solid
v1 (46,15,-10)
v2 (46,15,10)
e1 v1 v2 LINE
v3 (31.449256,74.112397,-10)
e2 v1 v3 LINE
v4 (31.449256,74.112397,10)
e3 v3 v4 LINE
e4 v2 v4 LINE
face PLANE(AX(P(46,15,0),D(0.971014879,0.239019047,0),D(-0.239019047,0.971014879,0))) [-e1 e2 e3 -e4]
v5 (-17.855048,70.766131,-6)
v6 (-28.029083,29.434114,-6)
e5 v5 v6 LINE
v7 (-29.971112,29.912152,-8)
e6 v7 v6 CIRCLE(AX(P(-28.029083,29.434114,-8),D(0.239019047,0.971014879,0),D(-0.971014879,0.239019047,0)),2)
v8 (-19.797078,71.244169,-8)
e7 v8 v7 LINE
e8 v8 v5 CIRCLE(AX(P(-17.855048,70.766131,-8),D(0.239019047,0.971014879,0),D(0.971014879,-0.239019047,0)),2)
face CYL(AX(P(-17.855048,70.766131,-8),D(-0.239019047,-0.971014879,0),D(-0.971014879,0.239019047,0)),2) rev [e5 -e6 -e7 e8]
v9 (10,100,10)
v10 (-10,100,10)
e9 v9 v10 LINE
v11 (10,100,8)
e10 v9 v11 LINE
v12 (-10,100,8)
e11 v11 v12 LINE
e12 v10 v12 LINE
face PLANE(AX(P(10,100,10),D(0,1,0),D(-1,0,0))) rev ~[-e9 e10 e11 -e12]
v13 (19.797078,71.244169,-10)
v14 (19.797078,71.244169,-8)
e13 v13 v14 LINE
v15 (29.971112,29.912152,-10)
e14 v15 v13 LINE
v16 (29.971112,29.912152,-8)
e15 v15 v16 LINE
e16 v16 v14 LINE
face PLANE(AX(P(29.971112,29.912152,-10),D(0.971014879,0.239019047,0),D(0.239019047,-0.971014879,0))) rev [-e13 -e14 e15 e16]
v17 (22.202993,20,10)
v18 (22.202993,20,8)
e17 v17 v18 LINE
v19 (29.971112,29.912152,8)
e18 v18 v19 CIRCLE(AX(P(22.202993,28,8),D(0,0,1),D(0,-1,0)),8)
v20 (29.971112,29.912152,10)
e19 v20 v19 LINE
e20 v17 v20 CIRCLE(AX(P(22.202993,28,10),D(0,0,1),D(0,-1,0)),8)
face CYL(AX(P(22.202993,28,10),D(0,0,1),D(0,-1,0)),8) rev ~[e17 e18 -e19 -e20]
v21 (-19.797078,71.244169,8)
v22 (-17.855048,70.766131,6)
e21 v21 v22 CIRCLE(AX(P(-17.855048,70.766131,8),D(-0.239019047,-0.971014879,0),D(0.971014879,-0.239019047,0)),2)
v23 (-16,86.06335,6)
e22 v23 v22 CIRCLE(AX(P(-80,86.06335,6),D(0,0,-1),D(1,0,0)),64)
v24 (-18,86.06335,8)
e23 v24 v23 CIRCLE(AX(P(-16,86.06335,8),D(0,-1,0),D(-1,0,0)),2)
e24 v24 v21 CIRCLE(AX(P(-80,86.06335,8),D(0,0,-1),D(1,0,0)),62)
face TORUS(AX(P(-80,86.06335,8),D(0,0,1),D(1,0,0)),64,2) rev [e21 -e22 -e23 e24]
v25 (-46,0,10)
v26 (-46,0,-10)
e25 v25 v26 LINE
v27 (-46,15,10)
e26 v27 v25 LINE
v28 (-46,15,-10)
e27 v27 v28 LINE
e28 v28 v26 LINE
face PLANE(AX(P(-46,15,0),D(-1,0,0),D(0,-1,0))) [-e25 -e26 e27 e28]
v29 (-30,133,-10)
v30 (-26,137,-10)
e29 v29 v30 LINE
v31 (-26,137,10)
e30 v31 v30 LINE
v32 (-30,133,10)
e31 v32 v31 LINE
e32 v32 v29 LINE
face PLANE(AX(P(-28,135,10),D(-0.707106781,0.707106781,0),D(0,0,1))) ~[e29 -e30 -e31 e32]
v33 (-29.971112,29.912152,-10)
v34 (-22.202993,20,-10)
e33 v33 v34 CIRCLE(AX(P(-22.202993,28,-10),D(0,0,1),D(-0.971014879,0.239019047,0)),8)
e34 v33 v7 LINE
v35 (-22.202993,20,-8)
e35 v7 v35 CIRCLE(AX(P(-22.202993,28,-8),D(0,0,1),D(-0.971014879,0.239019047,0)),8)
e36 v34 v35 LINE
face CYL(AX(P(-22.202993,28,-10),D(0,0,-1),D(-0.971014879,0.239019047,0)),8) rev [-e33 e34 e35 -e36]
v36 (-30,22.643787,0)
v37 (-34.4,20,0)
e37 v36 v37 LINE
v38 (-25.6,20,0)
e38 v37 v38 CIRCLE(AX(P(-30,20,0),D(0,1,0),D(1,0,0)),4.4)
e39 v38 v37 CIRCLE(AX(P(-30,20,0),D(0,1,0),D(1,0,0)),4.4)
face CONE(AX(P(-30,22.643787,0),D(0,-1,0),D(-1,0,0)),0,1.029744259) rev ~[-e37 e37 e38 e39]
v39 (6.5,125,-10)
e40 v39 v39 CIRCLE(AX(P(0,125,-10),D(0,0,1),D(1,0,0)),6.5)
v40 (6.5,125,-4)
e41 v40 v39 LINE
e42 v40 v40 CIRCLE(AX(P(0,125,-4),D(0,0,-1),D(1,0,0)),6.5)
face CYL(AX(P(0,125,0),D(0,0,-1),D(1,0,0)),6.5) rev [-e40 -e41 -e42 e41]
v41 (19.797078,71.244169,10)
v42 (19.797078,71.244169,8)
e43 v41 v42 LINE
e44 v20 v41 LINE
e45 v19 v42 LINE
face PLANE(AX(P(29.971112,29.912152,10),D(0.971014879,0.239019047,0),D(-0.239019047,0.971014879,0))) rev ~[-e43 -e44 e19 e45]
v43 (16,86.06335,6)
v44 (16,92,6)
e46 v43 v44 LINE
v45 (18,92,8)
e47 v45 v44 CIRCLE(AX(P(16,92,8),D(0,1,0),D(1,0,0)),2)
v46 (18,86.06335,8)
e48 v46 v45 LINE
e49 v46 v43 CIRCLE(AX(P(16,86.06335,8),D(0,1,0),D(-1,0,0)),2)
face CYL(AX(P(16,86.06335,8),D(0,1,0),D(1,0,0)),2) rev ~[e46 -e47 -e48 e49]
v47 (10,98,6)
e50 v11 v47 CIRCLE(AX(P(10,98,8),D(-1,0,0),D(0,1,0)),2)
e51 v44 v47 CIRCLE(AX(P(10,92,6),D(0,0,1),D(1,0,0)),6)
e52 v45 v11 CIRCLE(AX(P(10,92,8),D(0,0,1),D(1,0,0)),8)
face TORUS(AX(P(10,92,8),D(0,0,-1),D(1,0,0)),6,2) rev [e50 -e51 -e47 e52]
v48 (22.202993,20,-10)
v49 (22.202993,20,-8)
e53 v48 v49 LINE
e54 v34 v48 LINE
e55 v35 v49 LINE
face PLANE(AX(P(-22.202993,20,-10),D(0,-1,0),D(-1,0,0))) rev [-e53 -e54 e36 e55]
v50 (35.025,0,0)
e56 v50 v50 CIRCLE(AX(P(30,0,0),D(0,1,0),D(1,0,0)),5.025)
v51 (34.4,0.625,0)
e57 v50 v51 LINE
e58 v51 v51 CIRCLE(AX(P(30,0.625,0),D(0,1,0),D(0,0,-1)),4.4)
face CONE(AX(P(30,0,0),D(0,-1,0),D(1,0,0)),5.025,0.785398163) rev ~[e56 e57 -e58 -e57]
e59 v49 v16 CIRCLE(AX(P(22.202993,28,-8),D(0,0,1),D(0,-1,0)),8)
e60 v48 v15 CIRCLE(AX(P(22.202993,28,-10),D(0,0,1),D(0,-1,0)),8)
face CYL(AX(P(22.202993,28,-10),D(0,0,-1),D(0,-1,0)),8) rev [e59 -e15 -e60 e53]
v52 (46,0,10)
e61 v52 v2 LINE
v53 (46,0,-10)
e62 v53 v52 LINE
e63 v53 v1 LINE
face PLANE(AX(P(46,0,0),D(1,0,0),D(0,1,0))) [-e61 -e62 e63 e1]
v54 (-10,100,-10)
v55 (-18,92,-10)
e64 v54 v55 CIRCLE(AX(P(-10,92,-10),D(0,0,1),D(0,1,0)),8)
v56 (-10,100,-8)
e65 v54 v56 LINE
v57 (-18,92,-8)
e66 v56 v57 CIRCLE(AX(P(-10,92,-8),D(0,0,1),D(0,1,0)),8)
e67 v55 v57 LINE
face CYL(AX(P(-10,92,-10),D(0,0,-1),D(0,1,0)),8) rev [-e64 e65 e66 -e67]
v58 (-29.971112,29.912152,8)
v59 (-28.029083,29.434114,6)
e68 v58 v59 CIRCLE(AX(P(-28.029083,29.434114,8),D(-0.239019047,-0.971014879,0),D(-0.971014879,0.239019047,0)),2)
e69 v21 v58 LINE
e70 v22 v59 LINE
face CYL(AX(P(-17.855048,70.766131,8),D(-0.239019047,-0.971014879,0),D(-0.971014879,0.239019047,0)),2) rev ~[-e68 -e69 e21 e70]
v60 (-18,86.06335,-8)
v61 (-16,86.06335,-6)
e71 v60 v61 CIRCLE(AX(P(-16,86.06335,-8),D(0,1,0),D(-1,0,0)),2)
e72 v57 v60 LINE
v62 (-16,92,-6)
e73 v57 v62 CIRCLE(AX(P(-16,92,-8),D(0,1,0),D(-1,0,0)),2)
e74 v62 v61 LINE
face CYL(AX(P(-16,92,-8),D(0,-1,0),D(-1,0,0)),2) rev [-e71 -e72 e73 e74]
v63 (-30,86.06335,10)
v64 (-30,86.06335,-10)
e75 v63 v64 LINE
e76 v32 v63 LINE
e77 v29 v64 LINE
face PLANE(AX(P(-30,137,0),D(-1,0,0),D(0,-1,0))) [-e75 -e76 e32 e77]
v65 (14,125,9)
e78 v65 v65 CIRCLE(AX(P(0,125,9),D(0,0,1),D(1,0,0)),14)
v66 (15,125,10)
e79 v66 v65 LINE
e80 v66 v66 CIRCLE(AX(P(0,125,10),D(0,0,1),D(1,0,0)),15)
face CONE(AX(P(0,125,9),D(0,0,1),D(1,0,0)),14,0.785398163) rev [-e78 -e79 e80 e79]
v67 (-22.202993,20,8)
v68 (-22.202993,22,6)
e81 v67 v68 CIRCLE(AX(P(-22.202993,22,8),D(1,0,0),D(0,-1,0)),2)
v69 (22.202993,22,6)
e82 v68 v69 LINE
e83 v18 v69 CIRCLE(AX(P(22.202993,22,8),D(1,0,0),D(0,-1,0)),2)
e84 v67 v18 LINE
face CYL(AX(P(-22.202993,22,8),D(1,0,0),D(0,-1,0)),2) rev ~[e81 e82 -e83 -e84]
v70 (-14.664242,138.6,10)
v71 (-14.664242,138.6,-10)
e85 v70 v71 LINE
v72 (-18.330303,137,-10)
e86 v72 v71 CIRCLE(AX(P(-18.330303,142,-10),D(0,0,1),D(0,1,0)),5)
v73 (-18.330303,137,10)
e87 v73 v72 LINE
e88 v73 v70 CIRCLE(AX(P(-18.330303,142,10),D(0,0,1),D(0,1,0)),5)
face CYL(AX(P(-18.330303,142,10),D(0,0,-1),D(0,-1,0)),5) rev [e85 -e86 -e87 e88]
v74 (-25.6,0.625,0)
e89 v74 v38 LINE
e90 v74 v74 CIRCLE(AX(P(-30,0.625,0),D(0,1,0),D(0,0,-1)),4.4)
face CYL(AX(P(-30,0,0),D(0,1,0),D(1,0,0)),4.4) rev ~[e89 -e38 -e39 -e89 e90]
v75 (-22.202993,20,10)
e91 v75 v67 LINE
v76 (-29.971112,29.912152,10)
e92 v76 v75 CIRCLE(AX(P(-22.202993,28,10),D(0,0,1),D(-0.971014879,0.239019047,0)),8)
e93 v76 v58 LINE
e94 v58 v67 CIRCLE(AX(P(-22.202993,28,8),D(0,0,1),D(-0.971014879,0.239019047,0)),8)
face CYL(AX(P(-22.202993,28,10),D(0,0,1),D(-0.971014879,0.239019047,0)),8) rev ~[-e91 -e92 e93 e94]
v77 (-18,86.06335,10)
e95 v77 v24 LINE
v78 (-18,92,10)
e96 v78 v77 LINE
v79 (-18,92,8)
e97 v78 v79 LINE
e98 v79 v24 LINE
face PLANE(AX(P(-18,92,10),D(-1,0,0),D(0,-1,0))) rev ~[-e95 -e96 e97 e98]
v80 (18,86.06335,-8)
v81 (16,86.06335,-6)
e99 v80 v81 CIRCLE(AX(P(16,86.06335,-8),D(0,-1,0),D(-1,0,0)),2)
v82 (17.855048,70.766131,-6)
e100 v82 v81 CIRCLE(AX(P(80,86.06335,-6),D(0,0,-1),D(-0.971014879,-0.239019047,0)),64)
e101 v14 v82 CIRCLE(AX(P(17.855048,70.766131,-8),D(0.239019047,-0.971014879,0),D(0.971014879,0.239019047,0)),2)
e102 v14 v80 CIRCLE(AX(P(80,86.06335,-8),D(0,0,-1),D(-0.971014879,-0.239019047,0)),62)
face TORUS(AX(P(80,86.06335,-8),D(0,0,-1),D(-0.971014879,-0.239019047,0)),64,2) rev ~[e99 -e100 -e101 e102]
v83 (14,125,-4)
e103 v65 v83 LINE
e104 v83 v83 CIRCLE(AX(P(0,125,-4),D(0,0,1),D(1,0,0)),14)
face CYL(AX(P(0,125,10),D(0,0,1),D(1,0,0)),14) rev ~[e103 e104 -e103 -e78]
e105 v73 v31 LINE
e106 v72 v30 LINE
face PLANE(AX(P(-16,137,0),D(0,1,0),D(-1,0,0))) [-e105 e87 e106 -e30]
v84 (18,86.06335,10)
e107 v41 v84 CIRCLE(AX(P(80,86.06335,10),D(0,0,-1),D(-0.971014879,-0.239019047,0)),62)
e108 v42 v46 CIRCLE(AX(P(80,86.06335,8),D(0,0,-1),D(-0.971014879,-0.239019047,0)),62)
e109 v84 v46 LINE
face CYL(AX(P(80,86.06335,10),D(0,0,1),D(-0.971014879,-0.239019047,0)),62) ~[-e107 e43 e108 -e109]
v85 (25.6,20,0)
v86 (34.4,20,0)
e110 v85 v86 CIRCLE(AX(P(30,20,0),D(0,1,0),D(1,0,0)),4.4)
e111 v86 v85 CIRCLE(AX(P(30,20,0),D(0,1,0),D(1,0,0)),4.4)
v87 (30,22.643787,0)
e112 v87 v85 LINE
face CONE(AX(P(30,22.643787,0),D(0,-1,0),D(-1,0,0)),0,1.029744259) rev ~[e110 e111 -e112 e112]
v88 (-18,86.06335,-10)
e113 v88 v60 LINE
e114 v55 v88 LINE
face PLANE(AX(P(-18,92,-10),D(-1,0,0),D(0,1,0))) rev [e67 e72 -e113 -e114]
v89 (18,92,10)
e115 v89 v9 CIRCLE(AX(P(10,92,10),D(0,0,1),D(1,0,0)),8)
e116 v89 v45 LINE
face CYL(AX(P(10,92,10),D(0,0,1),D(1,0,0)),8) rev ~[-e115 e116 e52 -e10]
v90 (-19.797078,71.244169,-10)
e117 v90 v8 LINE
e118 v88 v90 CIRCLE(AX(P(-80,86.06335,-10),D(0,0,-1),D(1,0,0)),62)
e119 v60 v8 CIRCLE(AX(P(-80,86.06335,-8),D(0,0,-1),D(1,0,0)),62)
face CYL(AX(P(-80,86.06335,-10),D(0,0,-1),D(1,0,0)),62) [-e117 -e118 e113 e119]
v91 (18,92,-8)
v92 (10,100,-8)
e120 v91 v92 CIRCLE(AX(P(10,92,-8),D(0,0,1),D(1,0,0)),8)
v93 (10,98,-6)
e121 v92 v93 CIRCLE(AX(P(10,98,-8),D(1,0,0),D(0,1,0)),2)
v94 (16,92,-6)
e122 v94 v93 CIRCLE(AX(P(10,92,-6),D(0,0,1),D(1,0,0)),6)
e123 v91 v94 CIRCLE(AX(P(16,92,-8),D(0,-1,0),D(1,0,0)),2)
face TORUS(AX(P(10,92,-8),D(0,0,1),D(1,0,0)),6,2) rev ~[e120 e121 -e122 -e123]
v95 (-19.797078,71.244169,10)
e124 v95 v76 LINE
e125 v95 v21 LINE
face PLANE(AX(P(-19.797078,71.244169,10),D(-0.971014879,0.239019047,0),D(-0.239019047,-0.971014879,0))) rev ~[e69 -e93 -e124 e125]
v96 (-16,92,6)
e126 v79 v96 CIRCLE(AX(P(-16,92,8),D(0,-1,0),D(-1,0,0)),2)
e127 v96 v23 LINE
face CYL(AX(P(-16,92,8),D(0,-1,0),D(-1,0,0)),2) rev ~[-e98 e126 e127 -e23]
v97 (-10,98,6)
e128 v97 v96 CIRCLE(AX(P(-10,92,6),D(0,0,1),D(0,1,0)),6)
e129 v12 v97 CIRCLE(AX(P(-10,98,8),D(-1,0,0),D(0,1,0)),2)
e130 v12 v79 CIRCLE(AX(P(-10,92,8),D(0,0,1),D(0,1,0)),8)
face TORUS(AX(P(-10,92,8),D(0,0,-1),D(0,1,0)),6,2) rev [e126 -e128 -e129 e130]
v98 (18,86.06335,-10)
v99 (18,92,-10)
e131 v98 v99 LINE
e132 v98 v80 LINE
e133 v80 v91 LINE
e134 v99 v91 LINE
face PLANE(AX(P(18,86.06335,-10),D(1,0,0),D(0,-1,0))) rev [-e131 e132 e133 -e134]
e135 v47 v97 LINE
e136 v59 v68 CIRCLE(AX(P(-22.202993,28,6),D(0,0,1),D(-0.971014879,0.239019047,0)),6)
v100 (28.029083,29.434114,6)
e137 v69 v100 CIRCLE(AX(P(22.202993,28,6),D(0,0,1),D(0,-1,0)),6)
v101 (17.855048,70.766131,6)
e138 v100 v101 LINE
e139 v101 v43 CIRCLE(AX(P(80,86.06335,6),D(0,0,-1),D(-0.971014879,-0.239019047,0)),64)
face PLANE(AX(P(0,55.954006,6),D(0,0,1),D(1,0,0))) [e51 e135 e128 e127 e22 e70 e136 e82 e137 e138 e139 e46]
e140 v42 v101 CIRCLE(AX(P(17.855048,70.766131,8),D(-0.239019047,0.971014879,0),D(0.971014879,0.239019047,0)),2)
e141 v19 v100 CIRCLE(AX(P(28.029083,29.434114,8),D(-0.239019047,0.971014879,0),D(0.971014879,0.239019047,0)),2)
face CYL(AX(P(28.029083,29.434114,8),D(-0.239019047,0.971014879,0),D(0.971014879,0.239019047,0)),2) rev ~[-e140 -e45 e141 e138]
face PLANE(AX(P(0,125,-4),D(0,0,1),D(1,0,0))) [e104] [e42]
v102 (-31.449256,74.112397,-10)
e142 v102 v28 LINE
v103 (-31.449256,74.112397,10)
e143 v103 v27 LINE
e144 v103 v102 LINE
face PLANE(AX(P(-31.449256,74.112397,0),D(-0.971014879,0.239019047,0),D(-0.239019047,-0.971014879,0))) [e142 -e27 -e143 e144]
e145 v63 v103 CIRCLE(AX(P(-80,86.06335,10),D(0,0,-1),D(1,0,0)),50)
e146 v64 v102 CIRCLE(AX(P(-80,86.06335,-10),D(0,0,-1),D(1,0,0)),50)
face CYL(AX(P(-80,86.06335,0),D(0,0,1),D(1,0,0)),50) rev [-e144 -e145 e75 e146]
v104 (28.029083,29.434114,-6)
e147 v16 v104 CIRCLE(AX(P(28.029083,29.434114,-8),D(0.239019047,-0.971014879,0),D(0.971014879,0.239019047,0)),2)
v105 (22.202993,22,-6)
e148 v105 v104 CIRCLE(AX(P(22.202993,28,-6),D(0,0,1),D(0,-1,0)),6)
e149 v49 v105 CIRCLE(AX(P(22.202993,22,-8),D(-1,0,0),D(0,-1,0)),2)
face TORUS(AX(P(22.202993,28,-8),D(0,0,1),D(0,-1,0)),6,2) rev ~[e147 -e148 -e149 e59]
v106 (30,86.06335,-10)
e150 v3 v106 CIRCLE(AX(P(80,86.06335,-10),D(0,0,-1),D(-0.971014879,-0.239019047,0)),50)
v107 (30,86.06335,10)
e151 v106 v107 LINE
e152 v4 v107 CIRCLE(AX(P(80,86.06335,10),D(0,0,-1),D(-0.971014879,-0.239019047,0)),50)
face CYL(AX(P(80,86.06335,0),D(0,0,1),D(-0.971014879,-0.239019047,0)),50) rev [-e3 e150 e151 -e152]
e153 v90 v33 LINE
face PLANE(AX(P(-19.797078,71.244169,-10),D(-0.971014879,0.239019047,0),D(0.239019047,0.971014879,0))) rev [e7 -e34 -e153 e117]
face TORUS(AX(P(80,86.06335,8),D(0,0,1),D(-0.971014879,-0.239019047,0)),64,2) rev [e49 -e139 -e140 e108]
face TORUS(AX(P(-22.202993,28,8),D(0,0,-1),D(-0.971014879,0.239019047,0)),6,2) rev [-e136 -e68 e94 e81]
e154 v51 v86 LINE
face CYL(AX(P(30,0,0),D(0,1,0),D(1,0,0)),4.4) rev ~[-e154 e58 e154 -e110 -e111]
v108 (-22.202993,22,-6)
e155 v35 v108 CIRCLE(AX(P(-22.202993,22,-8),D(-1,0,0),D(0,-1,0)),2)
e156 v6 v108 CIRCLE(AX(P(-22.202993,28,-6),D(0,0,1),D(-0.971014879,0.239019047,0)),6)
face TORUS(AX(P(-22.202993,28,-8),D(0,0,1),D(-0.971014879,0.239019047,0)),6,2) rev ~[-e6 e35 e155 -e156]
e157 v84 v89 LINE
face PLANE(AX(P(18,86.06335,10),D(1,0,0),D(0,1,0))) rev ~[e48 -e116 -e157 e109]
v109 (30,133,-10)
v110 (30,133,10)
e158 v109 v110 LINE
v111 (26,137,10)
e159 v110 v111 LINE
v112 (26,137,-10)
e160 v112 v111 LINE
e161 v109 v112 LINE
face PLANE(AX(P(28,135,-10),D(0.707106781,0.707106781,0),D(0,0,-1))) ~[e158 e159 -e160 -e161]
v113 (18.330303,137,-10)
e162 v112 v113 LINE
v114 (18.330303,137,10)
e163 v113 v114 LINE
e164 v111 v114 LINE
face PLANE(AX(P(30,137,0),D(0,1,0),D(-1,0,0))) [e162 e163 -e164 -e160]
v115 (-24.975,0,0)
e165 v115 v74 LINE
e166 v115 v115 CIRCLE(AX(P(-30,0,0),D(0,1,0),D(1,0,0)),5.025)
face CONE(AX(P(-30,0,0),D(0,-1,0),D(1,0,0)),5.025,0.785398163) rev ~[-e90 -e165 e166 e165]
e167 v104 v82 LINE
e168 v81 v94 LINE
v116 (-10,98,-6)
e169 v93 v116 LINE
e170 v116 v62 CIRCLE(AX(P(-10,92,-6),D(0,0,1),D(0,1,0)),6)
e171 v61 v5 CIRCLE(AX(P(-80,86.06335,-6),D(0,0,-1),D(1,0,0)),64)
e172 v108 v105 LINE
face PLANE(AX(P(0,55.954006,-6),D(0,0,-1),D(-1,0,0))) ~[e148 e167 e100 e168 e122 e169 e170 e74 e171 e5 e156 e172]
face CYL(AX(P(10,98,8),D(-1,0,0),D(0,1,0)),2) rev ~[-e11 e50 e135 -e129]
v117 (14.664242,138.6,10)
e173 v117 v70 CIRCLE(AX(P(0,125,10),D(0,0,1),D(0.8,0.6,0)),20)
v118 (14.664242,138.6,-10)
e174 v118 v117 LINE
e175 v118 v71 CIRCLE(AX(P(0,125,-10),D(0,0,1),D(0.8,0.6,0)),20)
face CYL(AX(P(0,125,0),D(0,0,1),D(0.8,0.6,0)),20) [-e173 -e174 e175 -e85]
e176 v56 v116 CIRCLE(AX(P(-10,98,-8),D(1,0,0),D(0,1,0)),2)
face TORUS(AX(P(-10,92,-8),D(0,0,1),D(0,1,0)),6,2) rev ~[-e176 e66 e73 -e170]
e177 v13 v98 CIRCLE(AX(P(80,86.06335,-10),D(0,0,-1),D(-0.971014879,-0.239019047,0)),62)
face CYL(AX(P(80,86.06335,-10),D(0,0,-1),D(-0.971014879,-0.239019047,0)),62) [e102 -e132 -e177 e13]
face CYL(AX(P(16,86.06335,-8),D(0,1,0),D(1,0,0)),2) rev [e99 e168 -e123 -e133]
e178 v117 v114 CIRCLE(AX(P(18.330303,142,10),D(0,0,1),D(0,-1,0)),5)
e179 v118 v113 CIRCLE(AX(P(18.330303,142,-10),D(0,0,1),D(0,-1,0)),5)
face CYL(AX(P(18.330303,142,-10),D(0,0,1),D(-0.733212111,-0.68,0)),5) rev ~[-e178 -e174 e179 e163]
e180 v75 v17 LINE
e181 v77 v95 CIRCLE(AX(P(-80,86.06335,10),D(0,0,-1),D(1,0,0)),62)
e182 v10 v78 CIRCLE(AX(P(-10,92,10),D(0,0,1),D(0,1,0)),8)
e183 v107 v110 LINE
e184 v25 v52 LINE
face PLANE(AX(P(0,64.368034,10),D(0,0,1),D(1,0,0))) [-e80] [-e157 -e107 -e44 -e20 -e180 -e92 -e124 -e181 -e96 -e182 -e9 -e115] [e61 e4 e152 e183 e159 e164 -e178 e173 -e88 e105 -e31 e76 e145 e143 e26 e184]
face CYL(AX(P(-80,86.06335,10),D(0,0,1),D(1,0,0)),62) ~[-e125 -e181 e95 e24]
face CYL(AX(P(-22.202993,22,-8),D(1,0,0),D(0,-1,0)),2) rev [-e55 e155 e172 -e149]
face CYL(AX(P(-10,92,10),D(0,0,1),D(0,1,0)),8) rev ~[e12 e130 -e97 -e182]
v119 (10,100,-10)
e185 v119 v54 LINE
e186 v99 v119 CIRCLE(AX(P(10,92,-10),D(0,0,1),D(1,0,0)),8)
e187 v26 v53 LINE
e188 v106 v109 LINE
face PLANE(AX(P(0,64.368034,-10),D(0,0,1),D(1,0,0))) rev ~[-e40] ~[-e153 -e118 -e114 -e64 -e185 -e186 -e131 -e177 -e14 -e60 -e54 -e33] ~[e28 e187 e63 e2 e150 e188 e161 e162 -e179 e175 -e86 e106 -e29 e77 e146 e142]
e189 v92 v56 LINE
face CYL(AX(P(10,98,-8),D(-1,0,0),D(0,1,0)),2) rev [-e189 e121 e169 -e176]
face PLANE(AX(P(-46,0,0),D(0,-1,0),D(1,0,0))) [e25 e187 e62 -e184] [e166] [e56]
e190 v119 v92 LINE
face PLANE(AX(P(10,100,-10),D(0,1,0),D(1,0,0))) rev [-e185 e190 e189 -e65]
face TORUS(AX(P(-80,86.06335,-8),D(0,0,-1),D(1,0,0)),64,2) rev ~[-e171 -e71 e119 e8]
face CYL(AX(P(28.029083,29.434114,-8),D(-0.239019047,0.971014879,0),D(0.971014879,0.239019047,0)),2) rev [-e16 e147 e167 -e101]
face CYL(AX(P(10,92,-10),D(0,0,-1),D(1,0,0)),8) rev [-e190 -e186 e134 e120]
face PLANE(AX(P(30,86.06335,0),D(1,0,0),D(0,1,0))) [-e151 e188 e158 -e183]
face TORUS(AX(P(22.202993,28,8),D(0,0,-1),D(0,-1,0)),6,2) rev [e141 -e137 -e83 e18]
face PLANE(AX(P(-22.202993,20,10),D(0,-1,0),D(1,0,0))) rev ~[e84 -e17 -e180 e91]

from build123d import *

# Parameters (mm, degrees)
SKETCH1_R                         = 6.5
BOSS_EXTRUDE1_DEPTH               = 10
SKETCH2_R                         = 14
CUT_EXTRUDE1_DEPTH                = 14
CHAMFER1_SIZE                     = 1
CHAMFER2_SIZE                     = 4
FILLET1_R                         = 5
CUT_EXTRUDE2_DEPTH                = 4
FILLET2_R                         = 2
FILLET2_OF_MIRROR1_R              = 2
M10X1_25_TAPPED_HOLE1_D           = 8.8
M10X1_25_TAPPED_HOLE1_DEPTH       = 20
M10X1_25_TAPPED_HOLE1_CSINK_D     = 10.05
M10X1_25_TAPPED_HOLE1_CSINK_ANGLE = 90
M10X1_25_TAPPED_HOLE1_TIP         = 2.643786724


with BuildPart() as part:
    # Sketch1 → Boss-Extrude1 (new, symmetric)
    with BuildSketch(Plane.XY):
        with BuildLine():
            Line((-46, 0), (46, 0))
            Line((46, 0), (46, 15))
            Line((46, 15), (31.449256053, 74.112397284))
            ThreePointArc((31.449256053, 74.112397284), (30.363636327, 80.044097084), (30, 86.06334964))
            Line((30, 86.06334964), (30, 137))
            Line((30, 137), (16, 137))
            ThreePointArc((16, 137), (0, 145), (-16, 137))
            Line((-16, 137), (-30, 137))
            Line((-30, 137), (-30, 86.06334964))
            ThreePointArc((-30, 86.06334964), (-30.363636327, 80.044097084), (-31.449256053, 74.112397284))
            Line((-31.449256053, 74.112397284), (-46, 15))
            Line((-46, 15), (-46, 0))
        make_face()
        with Locations((0, 125)):
            Circle(SKETCH1_R, mode=Mode.SUBTRACT)
    extrude(amount=BOSS_EXTRUDE1_DEPTH, both=True)

    # Sketch2 → Cut-Extrude1 (cut)
    with BuildSketch(Plane.XY.offset(10)):
        with Locations((0, 125)):
            Circle(SKETCH2_R)
    extrude(amount=-CUT_EXTRUDE1_DEPTH, mode=Mode.SUBTRACT)

    # Chamfer1
    chamfer1_edges = [part.edges().sort_by_distance(p)[0] for p in [
        (-14, 125, 10),
    ]]
    chamfer(chamfer1_edges, length=CHAMFER1_SIZE)

    # Chamfer2
    chamfer2_edges = [part.edges().sort_by_distance(p)[0] for p in [
        (-30, 137, 0),
        (30, 137, 0),
    ]]
    chamfer(chamfer2_edges, length=CHAMFER2_SIZE)

    # Fillet1
    fillet1_edges = [part.edges().sort_by_distance(p)[0] for p in [
        (-16, 137, 0),
        (16, 137, 0),
    ]]
    fillet(fillet1_edges, radius=FILLET1_R)

    # Sketch3 → Cut-Extrude2 (cut)
    with BuildSketch(Plane.XY.offset(10)):
        with BuildLine():
            Line((-18, 92), (-18, 86.06334964))
            ThreePointArc((-18, 86.06334964), (-18.450909046, 78.59947647), (-19.797077506, 71.244168718))
            Line((-19.797077506, 71.244168718), (-29.971112298, 29.912152377))
            ThreePointArc((-29.971112298, 29.912152377), (-28.49970745, 23.065287193), (-22.202993266, 20))
            Line((-22.202993266, 20), (22.202993266, 20))
            ThreePointArc((22.202993266, 20), (28.49970745, 23.065287193), (29.971112298, 29.912152377))
            Line((29.971112298, 29.912152377), (19.797077506, 71.244168718))
            ThreePointArc((19.797077506, 71.244168718), (18.450909046, 78.59947647), (18, 86.06334964))
            Line((18, 86.06334964), (18, 92))
            ThreePointArc((18, 92), (15.656854249, 97.656854249), (10, 100))
            Line((10, 100), (-10, 100))
            ThreePointArc((-10, 100), (-15.656854249, 97.656854249), (-18, 92))
        make_face()
    cut_extrude2 = extrude(amount=-CUT_EXTRUDE2_DEPTH, mode=Mode.SUBTRACT)

    # Fillet2
    fillet2_edges = [part.edges().sort_by_distance(p)[0] for p in [
        (-28.49970745, 23.065287193, 6),
        (-24.884094902, 50.578160548, 6),
        (-18.450909046, 78.59947647, 6),
        (-18, 89.03167482, 6),
        (-15.656854249, 97.656854249, 6),
        (0, 100, 6),
        (15.656854249, 97.656854249, 6),
        (18, 89.03167482, 6),
        (18.450909046, 78.59947647, 6),
        (24.884094902, 50.578160548, 6),
        (28.49970745, 23.065287193, 6),
        (0, 20, 6),
    ]]
    fillet(fillet2_edges, radius=FILLET2_R)

    # Mirror1: Cut-Extrude2 across plane
    add(cut_extrude2.mirror(Plane.XY), mode=Mode.SUBTRACT)

    # Fillet2 of Mirror1
    fillet2_of_mirror1_edges = [part.edges().sort_by_distance(p)[0] for p in [
        (-28.49970745, 23.065287193, -6),
        (-24.884094902, 50.578160548, -6),
        (-18.450909046, 78.59947647, -6),
        (-18, 89.03167482, -6),
        (-15.656854249, 97.656854249, -6),
        (0, 100, -6),
        (15.656854249, 97.656854249, -6),
        (18, 89.03167482, -6),
        (18.450909046, 78.59947647, -6),
        (24.884094902, 50.578160548, -6),
        (28.49970745, 23.065287193, -6),
        (0, 20, -6),
    ]]
    fillet(fillet2_of_mirror1_edges, radius=FILLET2_OF_MIRROR1_R)

    # M10x1.25 Tapped Hole1
    with Locations(Plane(origin=(0, 0, 0), x_dir=(-1, 0, 0), z_dir=(0, -1, 0))):
        with Locations((-30, 0), (30, 0)):
            CounterSinkHole(M10X1_25_TAPPED_HOLE1_D / 2, M10X1_25_TAPPED_HOLE1_CSINK_D / 2, depth=M10X1_25_TAPPED_HOLE1_DEPTH, counter_sink_angle=M10X1_25_TAPPED_HOLE1_CSINK_ANGLE)
            with Locations((0, 0, -(M10X1_25_TAPPED_HOLE1_DEPTH + M10X1_25_TAPPED_HOLE1_TIP / 2))):  # 118° drill point
                Cone(0, M10X1_25_TAPPED_HOLE1_D / 2, M10X1_25_TAPPED_HOLE1_TIP, mode=Mode.SUBTRACT)


solid = part.part
